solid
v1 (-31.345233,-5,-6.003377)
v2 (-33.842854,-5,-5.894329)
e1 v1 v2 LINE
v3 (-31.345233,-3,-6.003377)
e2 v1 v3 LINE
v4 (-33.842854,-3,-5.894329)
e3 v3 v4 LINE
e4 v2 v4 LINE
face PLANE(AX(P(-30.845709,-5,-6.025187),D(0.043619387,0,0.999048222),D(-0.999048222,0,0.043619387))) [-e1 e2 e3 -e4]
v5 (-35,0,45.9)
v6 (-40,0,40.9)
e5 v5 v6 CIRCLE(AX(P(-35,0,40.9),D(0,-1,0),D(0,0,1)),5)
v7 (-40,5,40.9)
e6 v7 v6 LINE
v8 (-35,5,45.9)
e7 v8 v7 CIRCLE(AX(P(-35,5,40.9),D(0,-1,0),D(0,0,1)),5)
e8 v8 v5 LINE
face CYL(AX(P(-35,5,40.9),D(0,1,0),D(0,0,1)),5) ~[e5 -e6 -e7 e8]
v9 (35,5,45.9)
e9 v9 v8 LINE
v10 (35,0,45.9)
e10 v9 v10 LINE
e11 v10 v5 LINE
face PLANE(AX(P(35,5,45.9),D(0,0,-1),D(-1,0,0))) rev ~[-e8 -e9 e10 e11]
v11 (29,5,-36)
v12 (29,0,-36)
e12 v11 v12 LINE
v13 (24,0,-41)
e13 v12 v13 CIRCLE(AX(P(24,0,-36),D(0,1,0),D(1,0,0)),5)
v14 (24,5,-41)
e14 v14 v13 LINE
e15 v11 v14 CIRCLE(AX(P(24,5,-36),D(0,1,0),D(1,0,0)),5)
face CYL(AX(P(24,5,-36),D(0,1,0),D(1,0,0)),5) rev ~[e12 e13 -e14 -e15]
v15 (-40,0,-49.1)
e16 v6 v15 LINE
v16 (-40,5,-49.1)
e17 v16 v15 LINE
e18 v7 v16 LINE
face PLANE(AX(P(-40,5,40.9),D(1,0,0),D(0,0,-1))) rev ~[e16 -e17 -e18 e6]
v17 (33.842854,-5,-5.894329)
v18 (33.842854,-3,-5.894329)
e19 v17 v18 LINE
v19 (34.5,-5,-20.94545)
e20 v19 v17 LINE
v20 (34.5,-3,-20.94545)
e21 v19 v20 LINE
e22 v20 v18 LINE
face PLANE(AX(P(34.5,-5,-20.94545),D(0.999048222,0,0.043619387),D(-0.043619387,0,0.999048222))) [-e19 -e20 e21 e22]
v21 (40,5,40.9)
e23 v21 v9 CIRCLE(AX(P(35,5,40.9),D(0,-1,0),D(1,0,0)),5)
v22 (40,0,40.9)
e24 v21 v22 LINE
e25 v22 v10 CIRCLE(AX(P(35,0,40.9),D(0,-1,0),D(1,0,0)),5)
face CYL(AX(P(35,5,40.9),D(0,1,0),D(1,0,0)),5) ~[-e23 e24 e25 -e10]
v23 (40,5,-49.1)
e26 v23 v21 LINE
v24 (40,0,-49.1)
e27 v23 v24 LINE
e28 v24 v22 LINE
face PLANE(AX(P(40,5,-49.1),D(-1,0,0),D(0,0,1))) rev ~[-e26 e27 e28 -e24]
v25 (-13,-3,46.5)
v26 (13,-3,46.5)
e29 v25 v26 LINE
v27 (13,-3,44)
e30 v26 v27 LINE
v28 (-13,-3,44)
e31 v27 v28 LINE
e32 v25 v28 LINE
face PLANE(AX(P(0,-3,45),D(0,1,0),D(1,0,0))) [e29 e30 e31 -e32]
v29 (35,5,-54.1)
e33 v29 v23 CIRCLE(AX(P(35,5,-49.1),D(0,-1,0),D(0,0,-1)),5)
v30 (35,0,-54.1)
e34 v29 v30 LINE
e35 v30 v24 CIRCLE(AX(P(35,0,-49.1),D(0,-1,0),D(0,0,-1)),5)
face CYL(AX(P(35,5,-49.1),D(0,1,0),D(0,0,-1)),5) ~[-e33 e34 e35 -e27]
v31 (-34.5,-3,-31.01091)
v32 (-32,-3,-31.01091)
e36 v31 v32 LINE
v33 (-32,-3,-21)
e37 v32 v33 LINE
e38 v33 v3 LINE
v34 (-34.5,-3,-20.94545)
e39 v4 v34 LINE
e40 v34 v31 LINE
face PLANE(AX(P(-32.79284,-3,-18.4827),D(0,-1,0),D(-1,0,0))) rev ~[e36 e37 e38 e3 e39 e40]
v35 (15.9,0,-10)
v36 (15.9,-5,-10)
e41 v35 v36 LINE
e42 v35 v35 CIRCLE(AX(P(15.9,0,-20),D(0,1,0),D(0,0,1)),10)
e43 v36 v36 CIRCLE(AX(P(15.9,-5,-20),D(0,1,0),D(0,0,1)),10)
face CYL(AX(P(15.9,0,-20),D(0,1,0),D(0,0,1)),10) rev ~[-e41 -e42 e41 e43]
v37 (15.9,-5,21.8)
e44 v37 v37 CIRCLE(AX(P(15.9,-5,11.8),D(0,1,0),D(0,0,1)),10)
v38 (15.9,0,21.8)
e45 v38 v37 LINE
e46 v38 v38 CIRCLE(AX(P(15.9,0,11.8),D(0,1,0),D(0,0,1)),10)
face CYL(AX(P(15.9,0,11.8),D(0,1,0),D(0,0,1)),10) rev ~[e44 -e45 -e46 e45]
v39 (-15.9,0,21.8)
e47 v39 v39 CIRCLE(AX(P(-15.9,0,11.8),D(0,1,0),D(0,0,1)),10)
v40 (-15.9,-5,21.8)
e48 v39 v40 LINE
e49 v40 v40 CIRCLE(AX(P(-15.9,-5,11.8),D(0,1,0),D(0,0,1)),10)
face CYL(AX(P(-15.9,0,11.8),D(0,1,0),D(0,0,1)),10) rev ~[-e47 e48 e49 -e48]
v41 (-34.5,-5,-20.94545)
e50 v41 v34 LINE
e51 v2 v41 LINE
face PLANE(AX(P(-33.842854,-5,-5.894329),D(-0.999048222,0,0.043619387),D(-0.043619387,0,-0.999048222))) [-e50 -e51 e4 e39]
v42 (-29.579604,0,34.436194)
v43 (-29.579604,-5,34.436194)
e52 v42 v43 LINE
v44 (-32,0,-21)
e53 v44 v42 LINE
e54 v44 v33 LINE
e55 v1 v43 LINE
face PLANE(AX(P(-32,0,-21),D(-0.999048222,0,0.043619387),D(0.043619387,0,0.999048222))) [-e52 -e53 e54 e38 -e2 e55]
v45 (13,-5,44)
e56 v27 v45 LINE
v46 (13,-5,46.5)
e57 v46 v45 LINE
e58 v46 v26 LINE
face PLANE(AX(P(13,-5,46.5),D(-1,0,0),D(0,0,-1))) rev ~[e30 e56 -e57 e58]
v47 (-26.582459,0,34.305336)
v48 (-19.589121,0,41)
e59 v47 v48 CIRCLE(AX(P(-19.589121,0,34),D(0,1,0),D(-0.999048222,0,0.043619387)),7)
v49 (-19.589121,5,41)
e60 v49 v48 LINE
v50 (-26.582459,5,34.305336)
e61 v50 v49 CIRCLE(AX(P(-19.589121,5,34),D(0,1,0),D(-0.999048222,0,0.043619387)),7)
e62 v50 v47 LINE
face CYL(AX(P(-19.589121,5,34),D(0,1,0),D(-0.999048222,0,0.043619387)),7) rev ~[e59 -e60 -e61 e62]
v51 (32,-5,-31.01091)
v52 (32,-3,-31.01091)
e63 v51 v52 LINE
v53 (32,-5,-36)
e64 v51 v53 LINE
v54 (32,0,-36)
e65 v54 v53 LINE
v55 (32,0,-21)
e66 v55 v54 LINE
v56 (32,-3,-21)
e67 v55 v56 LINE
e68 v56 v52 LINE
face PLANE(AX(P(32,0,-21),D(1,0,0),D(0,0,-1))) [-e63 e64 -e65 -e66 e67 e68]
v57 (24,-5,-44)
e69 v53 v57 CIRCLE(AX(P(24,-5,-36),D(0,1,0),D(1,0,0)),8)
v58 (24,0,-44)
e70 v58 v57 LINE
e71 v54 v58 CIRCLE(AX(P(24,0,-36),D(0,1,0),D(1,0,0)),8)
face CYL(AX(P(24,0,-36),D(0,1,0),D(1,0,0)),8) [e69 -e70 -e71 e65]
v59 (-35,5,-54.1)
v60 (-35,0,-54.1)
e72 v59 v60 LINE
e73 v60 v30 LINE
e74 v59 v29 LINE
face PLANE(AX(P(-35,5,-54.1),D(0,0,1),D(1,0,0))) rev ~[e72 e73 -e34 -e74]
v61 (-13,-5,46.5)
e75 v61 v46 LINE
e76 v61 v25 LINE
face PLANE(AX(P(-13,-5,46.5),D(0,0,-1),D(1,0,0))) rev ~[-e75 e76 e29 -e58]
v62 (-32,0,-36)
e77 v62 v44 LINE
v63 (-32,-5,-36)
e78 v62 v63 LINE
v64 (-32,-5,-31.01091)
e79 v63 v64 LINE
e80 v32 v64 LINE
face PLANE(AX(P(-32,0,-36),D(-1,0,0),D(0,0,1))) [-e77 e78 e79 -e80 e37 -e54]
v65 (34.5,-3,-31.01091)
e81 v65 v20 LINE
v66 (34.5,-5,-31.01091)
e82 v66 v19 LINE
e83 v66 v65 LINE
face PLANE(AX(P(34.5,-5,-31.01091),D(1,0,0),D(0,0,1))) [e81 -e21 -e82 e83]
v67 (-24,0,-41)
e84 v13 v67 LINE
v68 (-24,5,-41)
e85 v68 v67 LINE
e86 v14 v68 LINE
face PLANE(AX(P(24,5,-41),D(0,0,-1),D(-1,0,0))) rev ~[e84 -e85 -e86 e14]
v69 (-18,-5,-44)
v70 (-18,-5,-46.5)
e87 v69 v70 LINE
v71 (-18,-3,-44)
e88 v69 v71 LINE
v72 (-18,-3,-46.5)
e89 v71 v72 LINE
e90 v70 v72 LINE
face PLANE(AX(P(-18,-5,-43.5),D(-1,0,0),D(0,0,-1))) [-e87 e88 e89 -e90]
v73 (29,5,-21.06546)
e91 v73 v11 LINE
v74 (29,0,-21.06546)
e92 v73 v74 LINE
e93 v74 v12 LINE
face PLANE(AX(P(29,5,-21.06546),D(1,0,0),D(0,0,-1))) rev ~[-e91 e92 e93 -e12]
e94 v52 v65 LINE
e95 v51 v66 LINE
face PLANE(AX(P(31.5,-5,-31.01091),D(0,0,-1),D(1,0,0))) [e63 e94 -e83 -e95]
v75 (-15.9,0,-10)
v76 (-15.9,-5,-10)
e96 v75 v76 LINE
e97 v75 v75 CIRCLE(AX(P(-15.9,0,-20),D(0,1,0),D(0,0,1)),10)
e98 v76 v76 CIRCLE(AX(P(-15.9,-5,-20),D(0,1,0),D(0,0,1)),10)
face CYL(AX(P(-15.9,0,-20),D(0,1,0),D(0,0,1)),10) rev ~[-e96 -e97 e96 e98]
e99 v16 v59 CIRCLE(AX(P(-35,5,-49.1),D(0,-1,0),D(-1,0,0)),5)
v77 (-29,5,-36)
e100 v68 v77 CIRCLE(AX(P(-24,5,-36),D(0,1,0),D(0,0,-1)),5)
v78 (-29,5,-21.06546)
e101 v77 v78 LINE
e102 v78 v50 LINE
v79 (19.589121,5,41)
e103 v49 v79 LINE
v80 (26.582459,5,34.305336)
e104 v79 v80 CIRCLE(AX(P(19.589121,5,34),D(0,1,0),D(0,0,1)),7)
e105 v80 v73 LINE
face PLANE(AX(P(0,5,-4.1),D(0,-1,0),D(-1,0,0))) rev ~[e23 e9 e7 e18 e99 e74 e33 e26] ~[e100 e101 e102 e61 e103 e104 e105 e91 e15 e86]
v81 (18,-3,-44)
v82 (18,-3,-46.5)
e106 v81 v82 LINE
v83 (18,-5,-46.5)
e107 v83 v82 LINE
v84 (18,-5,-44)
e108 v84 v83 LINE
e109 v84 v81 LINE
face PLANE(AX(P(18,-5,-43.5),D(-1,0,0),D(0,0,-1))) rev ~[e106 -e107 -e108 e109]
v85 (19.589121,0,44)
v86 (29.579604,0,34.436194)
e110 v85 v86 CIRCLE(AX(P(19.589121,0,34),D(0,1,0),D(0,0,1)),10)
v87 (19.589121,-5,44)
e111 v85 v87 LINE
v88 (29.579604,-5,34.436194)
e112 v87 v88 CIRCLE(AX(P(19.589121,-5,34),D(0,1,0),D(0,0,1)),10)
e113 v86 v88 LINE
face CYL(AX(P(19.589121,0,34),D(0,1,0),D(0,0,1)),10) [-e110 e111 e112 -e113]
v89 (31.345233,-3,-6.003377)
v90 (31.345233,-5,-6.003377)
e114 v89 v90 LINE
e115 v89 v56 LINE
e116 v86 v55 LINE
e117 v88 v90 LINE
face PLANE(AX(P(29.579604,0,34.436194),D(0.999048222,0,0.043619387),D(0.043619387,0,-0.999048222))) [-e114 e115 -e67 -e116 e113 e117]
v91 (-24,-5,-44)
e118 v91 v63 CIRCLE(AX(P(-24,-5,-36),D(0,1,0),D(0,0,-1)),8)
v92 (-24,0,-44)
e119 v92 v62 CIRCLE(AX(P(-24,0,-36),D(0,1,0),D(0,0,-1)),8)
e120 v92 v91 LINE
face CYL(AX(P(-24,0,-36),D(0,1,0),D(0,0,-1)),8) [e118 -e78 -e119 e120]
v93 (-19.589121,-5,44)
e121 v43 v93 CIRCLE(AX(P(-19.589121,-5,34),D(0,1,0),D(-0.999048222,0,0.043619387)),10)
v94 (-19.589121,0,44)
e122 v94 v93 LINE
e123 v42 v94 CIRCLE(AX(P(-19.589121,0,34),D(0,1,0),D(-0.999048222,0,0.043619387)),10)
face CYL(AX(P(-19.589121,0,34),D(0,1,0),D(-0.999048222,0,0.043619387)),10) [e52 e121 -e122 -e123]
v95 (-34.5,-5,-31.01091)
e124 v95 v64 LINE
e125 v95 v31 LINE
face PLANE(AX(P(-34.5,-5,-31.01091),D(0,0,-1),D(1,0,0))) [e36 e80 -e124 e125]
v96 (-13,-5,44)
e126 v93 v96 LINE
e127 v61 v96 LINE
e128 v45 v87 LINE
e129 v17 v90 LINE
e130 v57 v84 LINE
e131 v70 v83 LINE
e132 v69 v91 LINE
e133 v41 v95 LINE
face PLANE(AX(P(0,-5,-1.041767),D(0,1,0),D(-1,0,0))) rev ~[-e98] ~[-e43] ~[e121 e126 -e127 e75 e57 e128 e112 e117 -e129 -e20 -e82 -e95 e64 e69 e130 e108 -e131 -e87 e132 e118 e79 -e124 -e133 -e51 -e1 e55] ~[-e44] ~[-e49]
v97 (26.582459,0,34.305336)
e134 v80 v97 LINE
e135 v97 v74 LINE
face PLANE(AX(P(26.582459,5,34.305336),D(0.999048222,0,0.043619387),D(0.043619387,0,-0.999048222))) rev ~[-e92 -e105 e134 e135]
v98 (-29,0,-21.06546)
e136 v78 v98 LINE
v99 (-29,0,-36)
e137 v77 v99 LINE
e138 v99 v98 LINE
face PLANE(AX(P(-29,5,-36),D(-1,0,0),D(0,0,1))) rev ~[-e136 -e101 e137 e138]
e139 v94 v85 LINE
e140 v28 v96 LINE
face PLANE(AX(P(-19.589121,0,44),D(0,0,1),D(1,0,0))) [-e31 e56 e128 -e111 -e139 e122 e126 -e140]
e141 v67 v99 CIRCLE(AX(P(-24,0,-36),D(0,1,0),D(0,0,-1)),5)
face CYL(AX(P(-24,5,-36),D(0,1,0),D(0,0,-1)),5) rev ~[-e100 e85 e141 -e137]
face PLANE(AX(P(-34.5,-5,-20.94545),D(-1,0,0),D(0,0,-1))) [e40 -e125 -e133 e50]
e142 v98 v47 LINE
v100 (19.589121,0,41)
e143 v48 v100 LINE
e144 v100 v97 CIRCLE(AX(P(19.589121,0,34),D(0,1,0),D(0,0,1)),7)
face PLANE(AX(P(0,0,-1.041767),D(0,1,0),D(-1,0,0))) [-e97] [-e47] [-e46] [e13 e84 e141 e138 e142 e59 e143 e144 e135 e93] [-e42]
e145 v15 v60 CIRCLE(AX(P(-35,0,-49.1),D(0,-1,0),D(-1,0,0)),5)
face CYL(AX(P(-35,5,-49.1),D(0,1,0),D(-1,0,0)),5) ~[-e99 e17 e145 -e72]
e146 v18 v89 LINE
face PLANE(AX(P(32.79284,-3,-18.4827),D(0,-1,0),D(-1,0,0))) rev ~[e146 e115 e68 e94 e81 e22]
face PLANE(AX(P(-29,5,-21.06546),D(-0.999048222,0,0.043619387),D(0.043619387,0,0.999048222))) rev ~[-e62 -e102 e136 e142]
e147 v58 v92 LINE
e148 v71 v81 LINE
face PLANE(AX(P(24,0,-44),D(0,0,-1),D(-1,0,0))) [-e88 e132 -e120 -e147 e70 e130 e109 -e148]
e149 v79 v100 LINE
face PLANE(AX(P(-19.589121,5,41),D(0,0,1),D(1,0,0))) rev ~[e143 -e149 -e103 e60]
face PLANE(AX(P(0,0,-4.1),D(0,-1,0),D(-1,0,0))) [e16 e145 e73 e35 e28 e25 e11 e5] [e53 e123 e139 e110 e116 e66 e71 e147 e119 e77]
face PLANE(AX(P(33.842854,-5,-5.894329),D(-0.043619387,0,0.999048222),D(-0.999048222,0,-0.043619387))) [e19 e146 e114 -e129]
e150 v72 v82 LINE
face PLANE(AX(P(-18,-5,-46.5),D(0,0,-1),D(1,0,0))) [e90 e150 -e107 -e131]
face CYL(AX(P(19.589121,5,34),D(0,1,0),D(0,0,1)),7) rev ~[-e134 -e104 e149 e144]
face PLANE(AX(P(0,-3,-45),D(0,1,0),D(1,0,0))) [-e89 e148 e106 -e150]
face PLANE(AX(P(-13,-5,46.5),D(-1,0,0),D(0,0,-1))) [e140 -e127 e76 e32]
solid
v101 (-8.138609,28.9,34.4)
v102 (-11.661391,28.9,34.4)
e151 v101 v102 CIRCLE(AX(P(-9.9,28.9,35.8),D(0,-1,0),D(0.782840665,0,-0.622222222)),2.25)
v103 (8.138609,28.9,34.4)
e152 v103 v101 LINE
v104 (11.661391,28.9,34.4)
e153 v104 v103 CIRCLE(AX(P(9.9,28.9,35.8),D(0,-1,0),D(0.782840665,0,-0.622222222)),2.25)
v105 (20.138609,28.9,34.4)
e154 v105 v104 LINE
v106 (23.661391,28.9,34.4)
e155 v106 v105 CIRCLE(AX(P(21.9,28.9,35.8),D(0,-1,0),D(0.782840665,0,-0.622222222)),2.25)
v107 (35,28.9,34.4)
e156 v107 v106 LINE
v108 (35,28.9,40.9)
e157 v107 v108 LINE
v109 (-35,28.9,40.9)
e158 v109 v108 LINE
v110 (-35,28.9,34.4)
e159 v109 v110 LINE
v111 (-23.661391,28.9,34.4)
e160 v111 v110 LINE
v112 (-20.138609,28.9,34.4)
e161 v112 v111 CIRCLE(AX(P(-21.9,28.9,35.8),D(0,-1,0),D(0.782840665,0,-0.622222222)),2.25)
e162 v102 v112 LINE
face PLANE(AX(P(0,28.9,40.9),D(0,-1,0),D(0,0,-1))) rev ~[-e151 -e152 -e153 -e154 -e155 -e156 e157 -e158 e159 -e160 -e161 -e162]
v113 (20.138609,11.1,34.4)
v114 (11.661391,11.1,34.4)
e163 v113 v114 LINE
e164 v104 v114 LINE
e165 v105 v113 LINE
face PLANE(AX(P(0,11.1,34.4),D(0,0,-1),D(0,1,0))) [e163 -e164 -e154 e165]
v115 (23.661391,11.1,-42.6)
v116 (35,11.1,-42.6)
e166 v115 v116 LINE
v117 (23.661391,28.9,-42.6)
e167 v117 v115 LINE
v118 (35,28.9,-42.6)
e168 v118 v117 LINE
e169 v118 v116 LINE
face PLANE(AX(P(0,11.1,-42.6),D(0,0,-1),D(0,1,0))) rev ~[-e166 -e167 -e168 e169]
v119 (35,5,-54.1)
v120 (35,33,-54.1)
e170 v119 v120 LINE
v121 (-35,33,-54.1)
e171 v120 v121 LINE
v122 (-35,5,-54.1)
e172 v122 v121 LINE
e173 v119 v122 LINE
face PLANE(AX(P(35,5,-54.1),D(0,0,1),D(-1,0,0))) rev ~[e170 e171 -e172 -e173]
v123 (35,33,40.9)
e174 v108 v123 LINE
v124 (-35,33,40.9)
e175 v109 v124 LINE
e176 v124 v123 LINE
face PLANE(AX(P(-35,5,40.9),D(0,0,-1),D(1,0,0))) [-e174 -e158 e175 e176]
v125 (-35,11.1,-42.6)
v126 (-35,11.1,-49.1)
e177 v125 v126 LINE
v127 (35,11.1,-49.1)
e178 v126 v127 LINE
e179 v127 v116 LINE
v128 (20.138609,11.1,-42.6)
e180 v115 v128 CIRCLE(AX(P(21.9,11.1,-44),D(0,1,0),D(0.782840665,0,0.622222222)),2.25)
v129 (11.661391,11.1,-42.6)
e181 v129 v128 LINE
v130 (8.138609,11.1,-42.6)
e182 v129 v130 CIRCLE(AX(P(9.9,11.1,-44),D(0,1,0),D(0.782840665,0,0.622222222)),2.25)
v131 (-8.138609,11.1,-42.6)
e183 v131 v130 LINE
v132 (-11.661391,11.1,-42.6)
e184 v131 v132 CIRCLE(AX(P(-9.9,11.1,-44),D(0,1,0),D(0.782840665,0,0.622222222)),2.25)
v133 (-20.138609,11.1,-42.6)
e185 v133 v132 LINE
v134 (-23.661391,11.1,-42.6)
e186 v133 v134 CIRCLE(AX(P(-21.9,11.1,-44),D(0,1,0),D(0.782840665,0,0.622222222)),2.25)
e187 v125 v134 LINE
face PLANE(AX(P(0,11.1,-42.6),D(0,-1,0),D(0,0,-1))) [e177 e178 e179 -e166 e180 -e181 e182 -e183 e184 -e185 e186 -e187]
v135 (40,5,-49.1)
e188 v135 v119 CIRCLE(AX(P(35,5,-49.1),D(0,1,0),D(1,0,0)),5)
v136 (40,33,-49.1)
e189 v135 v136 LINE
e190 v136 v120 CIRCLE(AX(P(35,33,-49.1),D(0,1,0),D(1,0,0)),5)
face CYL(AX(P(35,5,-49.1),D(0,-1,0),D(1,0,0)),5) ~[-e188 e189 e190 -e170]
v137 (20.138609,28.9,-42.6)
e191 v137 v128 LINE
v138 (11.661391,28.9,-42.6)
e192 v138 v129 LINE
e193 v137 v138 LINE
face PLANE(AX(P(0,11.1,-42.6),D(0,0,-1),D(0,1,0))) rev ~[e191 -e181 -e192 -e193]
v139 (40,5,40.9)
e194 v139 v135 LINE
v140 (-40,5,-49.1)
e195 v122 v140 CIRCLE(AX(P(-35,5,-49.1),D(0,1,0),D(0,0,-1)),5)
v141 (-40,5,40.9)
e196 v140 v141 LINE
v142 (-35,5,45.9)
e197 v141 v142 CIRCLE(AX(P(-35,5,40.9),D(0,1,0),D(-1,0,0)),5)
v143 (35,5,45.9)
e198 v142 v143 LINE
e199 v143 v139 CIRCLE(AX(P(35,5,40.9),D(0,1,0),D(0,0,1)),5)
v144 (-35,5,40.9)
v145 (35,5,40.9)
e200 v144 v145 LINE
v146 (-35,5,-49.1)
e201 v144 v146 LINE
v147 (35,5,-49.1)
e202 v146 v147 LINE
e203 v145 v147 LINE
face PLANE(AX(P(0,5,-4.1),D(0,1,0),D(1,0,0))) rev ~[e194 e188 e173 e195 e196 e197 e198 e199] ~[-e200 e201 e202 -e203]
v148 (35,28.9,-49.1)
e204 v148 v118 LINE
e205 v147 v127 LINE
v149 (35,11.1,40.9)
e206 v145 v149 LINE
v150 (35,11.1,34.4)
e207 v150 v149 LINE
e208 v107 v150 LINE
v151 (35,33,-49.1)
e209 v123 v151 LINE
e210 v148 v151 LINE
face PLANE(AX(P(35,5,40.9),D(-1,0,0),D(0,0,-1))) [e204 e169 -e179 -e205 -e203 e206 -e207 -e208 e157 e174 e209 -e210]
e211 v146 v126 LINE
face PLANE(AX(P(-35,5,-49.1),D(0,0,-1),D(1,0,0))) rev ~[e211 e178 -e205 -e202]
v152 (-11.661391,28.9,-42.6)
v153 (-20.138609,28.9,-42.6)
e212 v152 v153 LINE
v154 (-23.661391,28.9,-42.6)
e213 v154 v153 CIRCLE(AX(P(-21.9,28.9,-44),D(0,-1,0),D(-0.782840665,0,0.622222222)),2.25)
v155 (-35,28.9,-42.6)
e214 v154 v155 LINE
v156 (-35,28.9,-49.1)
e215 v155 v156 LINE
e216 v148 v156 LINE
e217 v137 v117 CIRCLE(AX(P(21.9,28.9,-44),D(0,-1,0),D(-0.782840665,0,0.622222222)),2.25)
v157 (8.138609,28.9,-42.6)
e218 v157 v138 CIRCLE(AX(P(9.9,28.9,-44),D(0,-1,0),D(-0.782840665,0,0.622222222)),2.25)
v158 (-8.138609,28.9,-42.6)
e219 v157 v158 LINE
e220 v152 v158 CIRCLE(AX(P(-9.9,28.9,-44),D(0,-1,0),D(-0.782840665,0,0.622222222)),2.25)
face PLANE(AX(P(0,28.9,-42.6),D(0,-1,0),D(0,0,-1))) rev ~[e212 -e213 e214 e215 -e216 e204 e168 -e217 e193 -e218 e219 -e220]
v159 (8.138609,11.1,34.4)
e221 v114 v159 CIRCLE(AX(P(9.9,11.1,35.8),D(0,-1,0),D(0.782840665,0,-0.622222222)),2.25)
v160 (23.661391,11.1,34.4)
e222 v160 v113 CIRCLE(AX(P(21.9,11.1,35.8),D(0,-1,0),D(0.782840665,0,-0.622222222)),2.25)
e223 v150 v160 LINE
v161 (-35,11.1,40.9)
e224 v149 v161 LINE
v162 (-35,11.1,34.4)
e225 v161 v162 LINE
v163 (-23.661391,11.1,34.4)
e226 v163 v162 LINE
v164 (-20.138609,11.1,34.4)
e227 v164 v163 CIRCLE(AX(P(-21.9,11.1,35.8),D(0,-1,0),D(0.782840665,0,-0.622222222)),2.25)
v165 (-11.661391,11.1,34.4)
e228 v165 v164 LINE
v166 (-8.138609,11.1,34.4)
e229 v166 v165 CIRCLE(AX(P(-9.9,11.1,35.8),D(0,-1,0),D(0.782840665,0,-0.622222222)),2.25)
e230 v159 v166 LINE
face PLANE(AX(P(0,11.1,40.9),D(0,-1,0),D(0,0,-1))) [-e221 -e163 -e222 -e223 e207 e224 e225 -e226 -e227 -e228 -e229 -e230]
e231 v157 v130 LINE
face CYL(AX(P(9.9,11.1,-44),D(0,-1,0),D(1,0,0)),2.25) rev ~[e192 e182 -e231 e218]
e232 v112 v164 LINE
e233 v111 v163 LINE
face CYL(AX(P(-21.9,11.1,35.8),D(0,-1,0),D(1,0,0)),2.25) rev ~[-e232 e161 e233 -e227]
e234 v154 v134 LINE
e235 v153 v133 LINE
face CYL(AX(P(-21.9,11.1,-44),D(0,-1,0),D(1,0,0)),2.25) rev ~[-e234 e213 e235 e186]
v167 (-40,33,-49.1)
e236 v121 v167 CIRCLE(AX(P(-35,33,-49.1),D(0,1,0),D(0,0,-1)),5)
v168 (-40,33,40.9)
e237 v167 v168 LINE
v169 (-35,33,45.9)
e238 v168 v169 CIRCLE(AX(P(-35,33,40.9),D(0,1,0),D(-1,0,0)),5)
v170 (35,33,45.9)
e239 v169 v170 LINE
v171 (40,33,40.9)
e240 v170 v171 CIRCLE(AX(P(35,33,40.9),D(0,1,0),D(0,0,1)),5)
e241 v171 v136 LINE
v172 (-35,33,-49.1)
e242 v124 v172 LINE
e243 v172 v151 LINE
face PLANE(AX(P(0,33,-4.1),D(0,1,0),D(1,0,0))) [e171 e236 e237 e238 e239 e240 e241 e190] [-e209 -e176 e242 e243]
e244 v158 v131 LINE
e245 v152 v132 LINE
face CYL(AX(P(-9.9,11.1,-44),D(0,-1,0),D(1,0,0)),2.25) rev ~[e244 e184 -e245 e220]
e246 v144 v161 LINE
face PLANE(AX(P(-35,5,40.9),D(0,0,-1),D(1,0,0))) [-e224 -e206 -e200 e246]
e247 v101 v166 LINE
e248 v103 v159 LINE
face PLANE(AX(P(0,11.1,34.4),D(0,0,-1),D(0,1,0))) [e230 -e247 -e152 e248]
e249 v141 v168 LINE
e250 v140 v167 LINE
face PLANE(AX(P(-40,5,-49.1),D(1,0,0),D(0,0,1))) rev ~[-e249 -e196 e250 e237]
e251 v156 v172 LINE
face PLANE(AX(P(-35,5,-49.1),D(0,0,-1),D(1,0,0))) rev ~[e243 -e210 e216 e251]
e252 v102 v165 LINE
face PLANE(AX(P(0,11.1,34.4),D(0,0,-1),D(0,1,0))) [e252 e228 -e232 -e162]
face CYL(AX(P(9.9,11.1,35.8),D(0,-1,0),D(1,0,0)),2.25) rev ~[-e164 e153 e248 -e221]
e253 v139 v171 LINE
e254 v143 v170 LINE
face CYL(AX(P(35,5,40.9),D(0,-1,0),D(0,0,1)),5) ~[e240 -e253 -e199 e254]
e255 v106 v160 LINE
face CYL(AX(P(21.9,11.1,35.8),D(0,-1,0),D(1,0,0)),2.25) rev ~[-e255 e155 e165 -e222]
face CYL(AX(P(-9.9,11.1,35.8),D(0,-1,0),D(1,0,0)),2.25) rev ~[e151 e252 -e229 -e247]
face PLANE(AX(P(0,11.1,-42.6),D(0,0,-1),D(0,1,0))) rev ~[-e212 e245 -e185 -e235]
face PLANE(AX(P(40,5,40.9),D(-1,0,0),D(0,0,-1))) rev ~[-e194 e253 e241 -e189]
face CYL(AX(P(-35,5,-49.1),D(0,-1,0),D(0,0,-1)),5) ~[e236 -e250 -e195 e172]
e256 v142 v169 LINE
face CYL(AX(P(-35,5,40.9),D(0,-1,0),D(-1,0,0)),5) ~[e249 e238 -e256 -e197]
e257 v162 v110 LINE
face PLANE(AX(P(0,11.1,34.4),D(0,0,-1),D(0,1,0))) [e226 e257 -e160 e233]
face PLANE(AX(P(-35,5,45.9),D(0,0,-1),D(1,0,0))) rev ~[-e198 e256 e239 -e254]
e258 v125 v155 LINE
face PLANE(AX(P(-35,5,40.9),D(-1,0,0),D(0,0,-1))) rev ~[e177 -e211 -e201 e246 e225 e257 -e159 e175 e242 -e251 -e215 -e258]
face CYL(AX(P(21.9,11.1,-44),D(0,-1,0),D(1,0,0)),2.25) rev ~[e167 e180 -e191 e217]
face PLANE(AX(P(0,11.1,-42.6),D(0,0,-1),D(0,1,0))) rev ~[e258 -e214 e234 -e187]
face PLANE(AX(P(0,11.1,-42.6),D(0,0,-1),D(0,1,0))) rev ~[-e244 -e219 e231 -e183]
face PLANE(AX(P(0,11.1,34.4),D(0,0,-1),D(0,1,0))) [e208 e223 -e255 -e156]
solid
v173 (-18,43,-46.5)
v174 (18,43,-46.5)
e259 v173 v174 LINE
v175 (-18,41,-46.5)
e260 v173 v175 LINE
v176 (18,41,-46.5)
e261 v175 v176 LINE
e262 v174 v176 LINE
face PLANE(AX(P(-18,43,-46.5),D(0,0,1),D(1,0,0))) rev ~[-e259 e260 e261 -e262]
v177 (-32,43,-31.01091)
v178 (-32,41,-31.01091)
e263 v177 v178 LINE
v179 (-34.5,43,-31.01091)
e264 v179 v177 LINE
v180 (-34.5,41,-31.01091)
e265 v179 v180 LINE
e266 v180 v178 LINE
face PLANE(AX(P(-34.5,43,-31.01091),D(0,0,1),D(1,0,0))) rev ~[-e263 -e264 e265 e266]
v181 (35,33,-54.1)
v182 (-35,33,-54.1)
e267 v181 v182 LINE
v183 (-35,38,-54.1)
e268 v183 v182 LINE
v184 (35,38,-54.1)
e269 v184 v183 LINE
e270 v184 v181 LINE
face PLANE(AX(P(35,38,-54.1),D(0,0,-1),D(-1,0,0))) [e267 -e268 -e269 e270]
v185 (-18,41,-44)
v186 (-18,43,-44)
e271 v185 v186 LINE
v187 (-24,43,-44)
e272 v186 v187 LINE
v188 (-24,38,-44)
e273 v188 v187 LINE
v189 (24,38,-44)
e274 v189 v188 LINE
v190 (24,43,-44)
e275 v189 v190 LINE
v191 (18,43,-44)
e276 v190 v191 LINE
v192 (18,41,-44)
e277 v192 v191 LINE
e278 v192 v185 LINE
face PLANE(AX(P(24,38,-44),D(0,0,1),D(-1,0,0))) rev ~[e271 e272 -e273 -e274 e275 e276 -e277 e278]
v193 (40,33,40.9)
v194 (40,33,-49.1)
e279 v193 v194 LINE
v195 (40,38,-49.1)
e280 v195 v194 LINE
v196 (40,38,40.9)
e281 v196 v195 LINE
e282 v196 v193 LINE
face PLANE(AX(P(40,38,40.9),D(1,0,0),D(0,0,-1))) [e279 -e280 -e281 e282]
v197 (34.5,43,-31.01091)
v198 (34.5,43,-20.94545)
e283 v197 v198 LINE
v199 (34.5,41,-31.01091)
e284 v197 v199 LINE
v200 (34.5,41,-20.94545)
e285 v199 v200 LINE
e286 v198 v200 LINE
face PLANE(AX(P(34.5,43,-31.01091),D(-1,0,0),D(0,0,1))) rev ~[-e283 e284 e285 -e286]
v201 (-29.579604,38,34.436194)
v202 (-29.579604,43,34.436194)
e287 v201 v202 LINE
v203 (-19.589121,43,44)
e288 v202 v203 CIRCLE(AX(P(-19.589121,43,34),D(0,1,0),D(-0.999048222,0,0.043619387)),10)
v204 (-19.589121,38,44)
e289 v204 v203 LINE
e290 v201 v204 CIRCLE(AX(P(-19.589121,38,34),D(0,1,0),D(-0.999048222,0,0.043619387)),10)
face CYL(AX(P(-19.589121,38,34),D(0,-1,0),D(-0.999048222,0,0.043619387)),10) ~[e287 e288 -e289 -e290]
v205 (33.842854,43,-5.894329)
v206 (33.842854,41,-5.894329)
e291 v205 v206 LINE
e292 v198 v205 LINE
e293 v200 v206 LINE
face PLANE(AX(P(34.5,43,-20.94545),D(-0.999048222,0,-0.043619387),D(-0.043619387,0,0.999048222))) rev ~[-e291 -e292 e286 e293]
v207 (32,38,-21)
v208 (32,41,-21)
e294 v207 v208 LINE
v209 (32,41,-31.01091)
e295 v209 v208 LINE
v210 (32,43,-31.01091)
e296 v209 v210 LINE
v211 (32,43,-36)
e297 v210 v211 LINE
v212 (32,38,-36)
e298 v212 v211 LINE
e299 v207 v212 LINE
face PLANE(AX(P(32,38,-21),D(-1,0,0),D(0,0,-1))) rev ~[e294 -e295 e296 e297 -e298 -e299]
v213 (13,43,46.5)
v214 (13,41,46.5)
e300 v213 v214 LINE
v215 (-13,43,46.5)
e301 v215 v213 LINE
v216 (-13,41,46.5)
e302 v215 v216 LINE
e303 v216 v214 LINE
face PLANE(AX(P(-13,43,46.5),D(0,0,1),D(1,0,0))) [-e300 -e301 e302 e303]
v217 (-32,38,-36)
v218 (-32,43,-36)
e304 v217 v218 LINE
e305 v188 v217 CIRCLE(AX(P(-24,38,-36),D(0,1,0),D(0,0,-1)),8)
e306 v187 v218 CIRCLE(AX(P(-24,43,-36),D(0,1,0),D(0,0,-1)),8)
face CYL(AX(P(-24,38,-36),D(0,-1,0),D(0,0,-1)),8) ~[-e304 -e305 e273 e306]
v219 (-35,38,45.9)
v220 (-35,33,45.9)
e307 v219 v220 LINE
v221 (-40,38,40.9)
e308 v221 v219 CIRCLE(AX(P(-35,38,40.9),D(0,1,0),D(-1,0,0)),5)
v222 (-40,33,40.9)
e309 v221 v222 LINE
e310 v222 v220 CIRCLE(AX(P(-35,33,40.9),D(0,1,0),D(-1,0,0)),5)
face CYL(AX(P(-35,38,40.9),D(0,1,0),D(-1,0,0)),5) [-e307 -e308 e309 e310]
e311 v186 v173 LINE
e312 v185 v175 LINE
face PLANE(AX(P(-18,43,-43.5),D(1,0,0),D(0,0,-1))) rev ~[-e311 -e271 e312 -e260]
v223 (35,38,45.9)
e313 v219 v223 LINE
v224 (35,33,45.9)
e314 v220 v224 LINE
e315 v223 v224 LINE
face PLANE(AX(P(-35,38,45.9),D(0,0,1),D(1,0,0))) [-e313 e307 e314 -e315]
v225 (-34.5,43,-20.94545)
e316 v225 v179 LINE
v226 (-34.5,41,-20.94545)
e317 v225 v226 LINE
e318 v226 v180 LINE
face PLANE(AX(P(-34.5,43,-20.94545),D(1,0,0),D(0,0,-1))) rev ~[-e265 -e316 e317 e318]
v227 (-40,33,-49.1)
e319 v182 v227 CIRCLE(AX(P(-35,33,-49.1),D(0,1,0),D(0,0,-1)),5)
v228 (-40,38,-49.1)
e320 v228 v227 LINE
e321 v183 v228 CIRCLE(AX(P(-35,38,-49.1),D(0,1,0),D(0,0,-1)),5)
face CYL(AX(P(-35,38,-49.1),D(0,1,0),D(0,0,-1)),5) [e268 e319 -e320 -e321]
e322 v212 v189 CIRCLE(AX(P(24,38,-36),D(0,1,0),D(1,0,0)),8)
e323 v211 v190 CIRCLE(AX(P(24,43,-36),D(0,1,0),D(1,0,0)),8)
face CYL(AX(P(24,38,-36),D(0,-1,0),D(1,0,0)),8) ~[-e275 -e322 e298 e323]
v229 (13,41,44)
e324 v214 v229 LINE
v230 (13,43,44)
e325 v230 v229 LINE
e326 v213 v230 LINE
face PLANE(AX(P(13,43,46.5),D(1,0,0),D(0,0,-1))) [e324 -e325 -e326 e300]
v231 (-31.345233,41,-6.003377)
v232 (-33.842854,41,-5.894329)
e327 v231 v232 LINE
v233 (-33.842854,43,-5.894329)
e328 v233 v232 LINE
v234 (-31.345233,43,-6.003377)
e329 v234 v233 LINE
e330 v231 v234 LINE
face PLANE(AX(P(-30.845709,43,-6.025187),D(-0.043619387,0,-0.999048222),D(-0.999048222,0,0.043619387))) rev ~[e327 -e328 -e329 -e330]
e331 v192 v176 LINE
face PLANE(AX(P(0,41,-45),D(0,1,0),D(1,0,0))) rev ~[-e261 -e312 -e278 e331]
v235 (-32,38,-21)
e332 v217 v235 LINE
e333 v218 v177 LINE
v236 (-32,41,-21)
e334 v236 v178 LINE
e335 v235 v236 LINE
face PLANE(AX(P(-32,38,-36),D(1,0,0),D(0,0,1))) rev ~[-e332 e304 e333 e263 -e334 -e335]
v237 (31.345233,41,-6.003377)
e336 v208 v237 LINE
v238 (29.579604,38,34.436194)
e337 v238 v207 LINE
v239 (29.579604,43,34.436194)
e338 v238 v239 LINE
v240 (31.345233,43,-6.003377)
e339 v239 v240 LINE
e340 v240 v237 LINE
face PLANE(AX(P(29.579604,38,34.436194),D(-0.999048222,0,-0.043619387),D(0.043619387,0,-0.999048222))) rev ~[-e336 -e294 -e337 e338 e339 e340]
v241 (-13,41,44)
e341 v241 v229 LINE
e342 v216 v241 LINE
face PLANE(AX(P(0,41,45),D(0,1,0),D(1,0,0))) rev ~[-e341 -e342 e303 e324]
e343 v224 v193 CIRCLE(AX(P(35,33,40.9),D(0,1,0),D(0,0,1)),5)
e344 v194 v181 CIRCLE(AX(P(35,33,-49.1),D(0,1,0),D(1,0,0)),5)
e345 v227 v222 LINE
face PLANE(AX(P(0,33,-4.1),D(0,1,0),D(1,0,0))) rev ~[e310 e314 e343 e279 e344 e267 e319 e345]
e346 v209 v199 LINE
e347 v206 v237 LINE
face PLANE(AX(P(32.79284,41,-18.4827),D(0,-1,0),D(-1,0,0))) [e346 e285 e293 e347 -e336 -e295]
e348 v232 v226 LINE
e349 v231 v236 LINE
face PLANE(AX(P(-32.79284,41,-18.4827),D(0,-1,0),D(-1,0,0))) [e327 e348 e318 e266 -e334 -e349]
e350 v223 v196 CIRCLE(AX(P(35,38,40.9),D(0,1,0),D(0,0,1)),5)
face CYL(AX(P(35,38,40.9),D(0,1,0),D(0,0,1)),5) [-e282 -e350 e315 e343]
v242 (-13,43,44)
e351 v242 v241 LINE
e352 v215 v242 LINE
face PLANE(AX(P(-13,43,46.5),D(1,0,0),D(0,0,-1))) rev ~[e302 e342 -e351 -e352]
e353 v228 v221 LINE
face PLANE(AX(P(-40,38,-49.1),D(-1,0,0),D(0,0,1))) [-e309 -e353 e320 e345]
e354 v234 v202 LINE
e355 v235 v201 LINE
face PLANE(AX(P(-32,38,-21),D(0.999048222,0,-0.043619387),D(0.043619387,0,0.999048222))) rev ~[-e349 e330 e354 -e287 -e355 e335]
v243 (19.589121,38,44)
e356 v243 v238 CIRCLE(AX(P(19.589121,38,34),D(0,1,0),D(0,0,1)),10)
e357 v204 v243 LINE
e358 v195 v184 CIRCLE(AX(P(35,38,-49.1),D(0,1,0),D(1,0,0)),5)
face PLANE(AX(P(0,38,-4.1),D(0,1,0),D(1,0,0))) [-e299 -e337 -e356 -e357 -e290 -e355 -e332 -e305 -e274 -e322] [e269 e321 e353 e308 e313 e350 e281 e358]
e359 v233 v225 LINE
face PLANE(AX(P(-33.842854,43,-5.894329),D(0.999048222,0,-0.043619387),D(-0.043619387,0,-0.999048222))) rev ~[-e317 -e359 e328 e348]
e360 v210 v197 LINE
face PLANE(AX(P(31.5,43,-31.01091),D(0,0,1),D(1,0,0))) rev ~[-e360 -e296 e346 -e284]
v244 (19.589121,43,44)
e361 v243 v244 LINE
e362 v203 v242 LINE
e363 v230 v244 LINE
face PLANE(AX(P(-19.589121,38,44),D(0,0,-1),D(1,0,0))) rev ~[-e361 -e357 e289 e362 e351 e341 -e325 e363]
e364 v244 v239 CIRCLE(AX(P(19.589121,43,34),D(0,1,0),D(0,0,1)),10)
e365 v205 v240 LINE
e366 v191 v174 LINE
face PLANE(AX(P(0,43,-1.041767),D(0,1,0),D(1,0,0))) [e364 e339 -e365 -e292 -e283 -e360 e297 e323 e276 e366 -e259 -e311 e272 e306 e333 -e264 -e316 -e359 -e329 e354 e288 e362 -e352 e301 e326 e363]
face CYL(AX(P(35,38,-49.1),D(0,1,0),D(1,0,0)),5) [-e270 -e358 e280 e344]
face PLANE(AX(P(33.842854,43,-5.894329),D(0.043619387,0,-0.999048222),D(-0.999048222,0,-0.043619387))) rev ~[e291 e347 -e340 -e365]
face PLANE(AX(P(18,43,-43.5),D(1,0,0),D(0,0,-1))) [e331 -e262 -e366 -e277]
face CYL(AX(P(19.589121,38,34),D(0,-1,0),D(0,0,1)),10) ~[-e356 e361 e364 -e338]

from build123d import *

# Parameters (mm, degrees)
SKETCH8_R                        = 10
BOSS_EXTRUDE6_DEPTH              = 5
BOSS_EXTRUDE7_START              = 5
BOSS_EXTRUDE7_DEPTH              = 5
EXTRUDE_THIN4_DEPTH              = 8
EXTRUDE_THIN4_DEPTH_BACK         = 20
SKETCH2_W                        = 70
SKETCH2_H                        = 90
BOSS_EXTRUDE8_DEPTH              = 5
BOSS_EXTRUDE9_DEPTH              = 5
BOSS_EXTRUDE10_REACH             = 81.849
SKETCH13_W                       = 6.5
SKETCH13_H                       = 17.8
BOSS_EXTRUDE10_DIRECTION_2_REACH = 81.849
SKETCH15_R                       = 2.25
CUT_EXTRUDE1_DEPTH               = 17.8
SKETCH17_W                       = 36
SKETCH17_H                       = 3
SKETCH17_W_2                     = 26
BOSS_EXTRUDE11_DEPTH             = 2
SKETCH18_W                       = 36
SKETCH18_H                       = 3
SKETCH18_W_2                     = 26
BOSS_EXTRUDE12_DEPTH             = 2


with BuildPart() as part:
    # Sketch8 → Boss-Extrude6 (new body)
    with BuildSketch(Plane(origin=(0, 0, 0), x_dir=(-1, 0, 0), z_dir=(0, 1, 0))):
        with BuildLine():
            Line((32, -36), (32, -21))
            Line((32, -21), (29.579603504, 34.436193874))
            ThreePointArc((29.579603504, 34.436193874), (26.504251846, 41.223639621), (19.589121288, 44))
            Line((19.589121288, 44), (-19.589121288, 44))
            ThreePointArc((-19.589121288, 44), (-26.504251846, 41.223639621), (-29.579603504, 34.436193874))
            Line((-29.579603504, 34.436193874), (-32, -21))
            Line((-32, -21), (-32, -36))
            ThreePointArc((-32, -36), (-29.656854249, -41.656854249), (-24, -44))
            Line((-24, -44), (24, -44))
            ThreePointArc((24, -44), (29.656854249, -41.656854249), (32, -36))
        make_face()
        with Locations(Location((15.9, 11.8, 0), (0, 0, 90))):
            Circle(SKETCH8_R, mode=Mode.SUBTRACT)
        with Locations(Location((-15.9, 11.8, 0), (0, 0, 90))):
            Circle(SKETCH8_R, mode=Mode.SUBTRACT)
        with Locations(Location((15.9, -20, 0), (0, 0, 90))):
            Circle(SKETCH8_R, mode=Mode.SUBTRACT)
        with Locations(Location((-15.9, -20, 0), (0, 0, 90))):
            Circle(SKETCH8_R, mode=Mode.SUBTRACT)
    extrude(amount=-BOSS_EXTRUDE6_DEPTH)

    # Sketch1 → Boss-Extrude7 (add)
    # profile 1 of 2: a face of its own
    with BuildSketch(Plane(origin=(0, 0, 0), x_dir=(1, 0, 0), z_dir=(0, 1, 0)).offset(BOSS_EXTRUDE7_START)):
        with BuildLine():
            Line((-35, 54.1), (35, 54.1))
            ThreePointArc((35, 54.1), (38.535533906, 52.635533906), (40, 49.1))
            Line((40, 49.1), (40, -40.9))
            ThreePointArc((40, -40.9), (38.535533906, -44.435533906), (35, -45.9))
            Line((35, -45.9), (-35, -45.9))
            ThreePointArc((-35, -45.9), (-38.535533906, -44.435533906), (-40, -40.9))
            Line((-40, -40.9), (-40, 49.1))
            ThreePointArc((-40, 49.1), (-38.535533906, 52.635533906), (-35, 54.1))
        make_face()
        with BuildLine():
            ThreePointArc((32, 36), (29.656854249, 41.656854249), (24, 44))
            Line((24, 44), (-24, 44))
            ThreePointArc((-24, 44), (-29.656854249, 41.656854249), (-32, 36))
            Line((-32, 36), (-32, 21))
            Line((-32, 21), (-29.579603504, -34.436193874))
            ThreePointArc((-29.579603504, -34.436193874), (-26.504251846, -41.223639621), (-19.589121288, -44))
            Line((-19.589121288, -44), (19.589121288, -44))
            ThreePointArc((19.589121288, -44), (26.504251846, -41.223639621), (29.579603504, -34.436193874))
            Line((29.579603504, -34.436193874), (32, 21))
            Line((32, 21), (32, 36))
        make_face(mode=Mode.SUBTRACT)
    # profile 2 of 2: a face of its own
    with BuildSketch(Plane(origin=(0, 0, 0), x_dir=(1, 0, 0), z_dir=(0, 1, 0)).offset(BOSS_EXTRUDE7_START)):
        with BuildLine():
            Line((32, 36), (32, 21))
            Line((32, 21), (29.579603504, -34.436193874))
            ThreePointArc((29.579603504, -34.436193874), (26.504251846, -41.223639621), (19.589121288, -44))
            Line((19.589121288, -44), (-19.589121288, -44))
            ThreePointArc((-19.589121288, -44), (-26.504251846, -41.223639621), (-29.579603504, -34.436193874))
            Line((-29.579603504, -34.436193874), (-32, 21))
            Line((-32, 21), (-32, 36))
            ThreePointArc((-32, 36), (-29.656854249, 41.656854249), (-24, 44))
            Line((-24, 44), (24, 44))
            ThreePointArc((24, 44), (29.656854249, 41.656854249), (32, 36))
        make_face()
        with BuildLine():
            ThreePointArc((-24, 41), (-27.535533906, 39.535533906), (-29, 36))
            Line((-29, 36), (-29, 21.065460233))
            Line((-29, 21.065460233), (-26.582458839, -34.305335712))
            ThreePointArc((-26.582458839, -34.305335712), (-24.429712679, -39.056547734), (-19.589121288, -41))
            Line((-19.589121288, -41), (19.589121288, -41))
            ThreePointArc((19.589121288, -41), (24.429712679, -39.056547734), (26.582458839, -34.305335712))
            Line((26.582458839, -34.305335712), (29, 21.065460233))
            Line((29, 21.065460233), (29, 36))
            ThreePointArc((29, 36), (27.535533906, 39.535533906), (24, 41))
            Line((24, 41), (-24, 41))
        make_face(mode=Mode.SUBTRACT)
    extrude(amount=-BOSS_EXTRUDE7_DEPTH)

    # Sketch17 → Boss-Extrude11 (add)
    with BuildSketch(Plane(origin=(0, -5, 0), x_dir=(1, 0, 0), z_dir=(0, 1, 0))):
        with Locations((0, 45)):
            Rectangle(SKETCH17_W, SKETCH17_H)
        with Locations((0, -45)):
            Rectangle(SKETCH17_W_2, SKETCH17_H)
        Polygon((-31.5, 21.010910039), (-30.84570919, 6.025186715), (-33.842853854, 5.894328553), (-34.5, 20.945449806), (-34.5, 31.010910039), (-31.5, 31.010910039), align=None)
        Polygon((31.5, 21.010910039), (31.5, 31.010910039), (34.5, 31.010910039), (34.5, 20.945449806), (33.842853854, 5.894328553), (30.84570919, 6.025186715), align=None)
    extrude(amount=BOSS_EXTRUDE11_DEPTH)


with BuildPart() as body_2:
    # Sketch2 → Extrude-Thin4 (new, two sides: drawn at the far end of the back side and taken through both)
    with BuildSketch(Plane(origin=(0, 25, 0), x_dir=(1, 0, 0), z_dir=(0, 1, 0)).offset(-EXTRUDE_THIN4_DEPTH_BACK)):
        with BuildLine():
            Line((-40, 49.1), (-40, -40.9))
            ThreePointArc((-40, -40.9), (-38.535533906, -44.435533906), (-35, -45.9))
            Line((-35, -45.9), (35, -45.9))
            ThreePointArc((35, -45.9), (38.535533906, -44.435533906), (40, -40.9))
            Line((40, -40.9), (40, 49.1))
            ThreePointArc((40, 49.1), (38.535533906, 52.635533906), (35, 54.1))
            Line((35, 54.1), (-35, 54.1))
            ThreePointArc((-35, 54.1), (-38.535533906, 52.635533906), (-40, 49.1))
        make_face()
        with Locations((0, 4.1)):
            Rectangle(SKETCH2_W, SKETCH2_H, mode=Mode.SUBTRACT)
    extrude(amount=EXTRUDE_THIN4_DEPTH + EXTRUDE_THIN4_DEPTH_BACK)

    # Sketch13 → Boss-Extrude10 (add, up to next)
    with BuildSketch(Plane(origin=(0, 0, 0), x_dir=(0, 0, -1), z_dir=(1, 0, 0)), mode=Mode.PRIVATE) as boss_extrude10_sk1:
        with Locations((45.85, 20)):
            Rectangle(SKETCH13_W, SKETCH13_H)
    boss_extrude10_tool1 = extrude(boss_extrude10_sk1.sketch, amount=BOSS_EXTRUDE10_REACH, mode=Mode.PRIVATE) - body_2.part
    # Sketch13 → Boss-Extrude10 (add, up to next)
    with BuildSketch(Plane(origin=(0, 0, 0), x_dir=(0, 0, -1), z_dir=(1, 0, 0)), mode=Mode.PRIVATE) as boss_extrude10_sk2:
        with Locations((-37.65, 20)):
            Rectangle(SKETCH13_W, SKETCH13_H)
    boss_extrude10_tool2 = extrude(boss_extrude10_sk2.sketch, amount=BOSS_EXTRUDE10_REACH, mode=Mode.PRIVATE) - body_2.part
    add(boss_extrude10_tool1.solids().sort_by_distance((0, 20, -45.85))[0])
    add(boss_extrude10_tool2.solids().sort_by_distance((0, 20, 37.65))[0])

    # Sketch13 → Boss-Extrude10 direction 2 (add, up to next)
    with BuildSketch(Plane(origin=(0, 0, 0), x_dir=(0, 0, -1), z_dir=(1, 0, 0)), mode=Mode.PRIVATE) as boss_extrude10_direction_2_sk1:
        with Locations((45.85, 20)):
            Rectangle(SKETCH13_W, SKETCH13_H)
    boss_extrude10_direction_2_tool1 = extrude(boss_extrude10_direction_2_sk1.sketch, amount=-BOSS_EXTRUDE10_DIRECTION_2_REACH, mode=Mode.PRIVATE) - body_2.part
    # Sketch13 → Boss-Extrude10 direction 2 (add, up to next)
    with BuildSketch(Plane(origin=(0, 0, 0), x_dir=(0, 0, -1), z_dir=(1, 0, 0)), mode=Mode.PRIVATE) as boss_extrude10_direction_2_sk2:
        with Locations((-37.65, 20)):
            Rectangle(SKETCH13_W, SKETCH13_H)
    boss_extrude10_direction_2_tool2 = extrude(boss_extrude10_direction_2_sk2.sketch, amount=-BOSS_EXTRUDE10_DIRECTION_2_REACH, mode=Mode.PRIVATE) - body_2.part
    add(boss_extrude10_direction_2_tool1.solids().sort_by_distance((0, 20, -45.85))[0])
    add(boss_extrude10_direction_2_tool2.solids().sort_by_distance((0, 20, 37.65))[0])

    # Sketch15 → Cut-Extrude1 (cut)
    with BuildSketch(Plane.XZ.offset(-11.1)):
        with Locations((-21.9, -44)):
            Circle(SKETCH15_R)
        with Locations((-9.9, -44)):
            Circle(SKETCH15_R)
        with Locations((-21.9, 35.8)):
            Circle(SKETCH15_R)
        with Locations((-9.9, 35.8)):
            Circle(SKETCH15_R)
        with Locations((9.9, 35.8)):
            Circle(SKETCH15_R)
        with Locations((21.9, 35.8)):
            Circle(SKETCH15_R)
        with Locations((9.9, -44)):
            Circle(SKETCH15_R)
        with Locations((21.9, -44)):
            Circle(SKETCH15_R)
    extrude(amount=-CUT_EXTRUDE1_DEPTH, mode=Mode.SUBTRACT)


with BuildPart() as body_3:
    # Sketch10 → Boss-Extrude8 (new body)
    with BuildSketch(Plane(origin=(0, 38, 0), x_dir=(1, 0, 0), z_dir=(0, 1, 0))):
        with BuildLine():
            Line((-32, 36), (-32, 21))
            Line((-32, 21), (-29.579603504, -34.436193874))
            ThreePointArc((-29.579603504, -34.436193874), (-26.504251846, -41.223639621), (-19.589121288, -44))
            Line((-19.589121288, -44), (19.589121288, -44))
            ThreePointArc((19.589121288, -44), (26.504251846, -41.223639621), (29.579603504, -34.436193874))
            Line((29.579603504, -34.436193874), (32, 21))
            Line((32, 21), (32, 36))
            ThreePointArc((32, 36), (29.656854249, 41.656854249), (24, 44))
            Line((24, 44), (-24, 44))
            ThreePointArc((-24, 44), (-29.656854249, 41.656854249), (-32, 36))
        make_face()
    extrude(amount=BOSS_EXTRUDE8_DEPTH)

    # Sketch11 → Boss-Extrude9 (add)
    with BuildSketch(Plane(origin=(0, 38, 0), x_dir=(1, 0, 0), z_dir=(0, 1, 0))):
        with BuildLine():
            Line((-35, -45.9), (35, -45.9))
            ThreePointArc((35, -45.9), (38.535533906, -44.435533906), (40, -40.9))
            Line((40, -40.9), (40, 49.1))
            ThreePointArc((40, 49.1), (38.535533906, 52.635533906), (35, 54.1))
            Line((35, 54.1), (-35, 54.1))
            ThreePointArc((-35, 54.1), (-38.535533906, 52.635533906), (-40, 49.1))
            Line((-40, 49.1), (-40, -40.9))
            ThreePointArc((-40, -40.9), (-38.535533906, -44.435533906), (-35, -45.9))
        make_face()
    extrude(amount=-BOSS_EXTRUDE9_DEPTH)

    # Sketch18 → Boss-Extrude12 (add)
    with BuildSketch(Plane(origin=(0, 43, 0), x_dir=(1, 0, 0), z_dir=(0, 1, 0))):
        with Locations((0, 45)):
            Rectangle(SKETCH18_W, SKETCH18_H)
        with Locations((0, -45)):
            Rectangle(SKETCH18_W_2, SKETCH18_H)
        Polygon((-31.5, 21.010910039), (-30.84570919, 6.025186715), (-33.842853854, 5.894328553), (-34.5, 20.945449806), (-34.5, 31.010910039), (-31.5, 31.010910039), align=None)
        Polygon((31.5, 21.010910039), (31.5, 31.010910039), (34.5, 31.010910039), (34.5, 20.945449806), (33.842853854, 5.894328553), (30.84570919, 6.025186715), align=None)
    extrude(amount=-BOSS_EXTRUDE12_DEPTH)


solid = Compound([part.part, body_2.part, body_3.part])
